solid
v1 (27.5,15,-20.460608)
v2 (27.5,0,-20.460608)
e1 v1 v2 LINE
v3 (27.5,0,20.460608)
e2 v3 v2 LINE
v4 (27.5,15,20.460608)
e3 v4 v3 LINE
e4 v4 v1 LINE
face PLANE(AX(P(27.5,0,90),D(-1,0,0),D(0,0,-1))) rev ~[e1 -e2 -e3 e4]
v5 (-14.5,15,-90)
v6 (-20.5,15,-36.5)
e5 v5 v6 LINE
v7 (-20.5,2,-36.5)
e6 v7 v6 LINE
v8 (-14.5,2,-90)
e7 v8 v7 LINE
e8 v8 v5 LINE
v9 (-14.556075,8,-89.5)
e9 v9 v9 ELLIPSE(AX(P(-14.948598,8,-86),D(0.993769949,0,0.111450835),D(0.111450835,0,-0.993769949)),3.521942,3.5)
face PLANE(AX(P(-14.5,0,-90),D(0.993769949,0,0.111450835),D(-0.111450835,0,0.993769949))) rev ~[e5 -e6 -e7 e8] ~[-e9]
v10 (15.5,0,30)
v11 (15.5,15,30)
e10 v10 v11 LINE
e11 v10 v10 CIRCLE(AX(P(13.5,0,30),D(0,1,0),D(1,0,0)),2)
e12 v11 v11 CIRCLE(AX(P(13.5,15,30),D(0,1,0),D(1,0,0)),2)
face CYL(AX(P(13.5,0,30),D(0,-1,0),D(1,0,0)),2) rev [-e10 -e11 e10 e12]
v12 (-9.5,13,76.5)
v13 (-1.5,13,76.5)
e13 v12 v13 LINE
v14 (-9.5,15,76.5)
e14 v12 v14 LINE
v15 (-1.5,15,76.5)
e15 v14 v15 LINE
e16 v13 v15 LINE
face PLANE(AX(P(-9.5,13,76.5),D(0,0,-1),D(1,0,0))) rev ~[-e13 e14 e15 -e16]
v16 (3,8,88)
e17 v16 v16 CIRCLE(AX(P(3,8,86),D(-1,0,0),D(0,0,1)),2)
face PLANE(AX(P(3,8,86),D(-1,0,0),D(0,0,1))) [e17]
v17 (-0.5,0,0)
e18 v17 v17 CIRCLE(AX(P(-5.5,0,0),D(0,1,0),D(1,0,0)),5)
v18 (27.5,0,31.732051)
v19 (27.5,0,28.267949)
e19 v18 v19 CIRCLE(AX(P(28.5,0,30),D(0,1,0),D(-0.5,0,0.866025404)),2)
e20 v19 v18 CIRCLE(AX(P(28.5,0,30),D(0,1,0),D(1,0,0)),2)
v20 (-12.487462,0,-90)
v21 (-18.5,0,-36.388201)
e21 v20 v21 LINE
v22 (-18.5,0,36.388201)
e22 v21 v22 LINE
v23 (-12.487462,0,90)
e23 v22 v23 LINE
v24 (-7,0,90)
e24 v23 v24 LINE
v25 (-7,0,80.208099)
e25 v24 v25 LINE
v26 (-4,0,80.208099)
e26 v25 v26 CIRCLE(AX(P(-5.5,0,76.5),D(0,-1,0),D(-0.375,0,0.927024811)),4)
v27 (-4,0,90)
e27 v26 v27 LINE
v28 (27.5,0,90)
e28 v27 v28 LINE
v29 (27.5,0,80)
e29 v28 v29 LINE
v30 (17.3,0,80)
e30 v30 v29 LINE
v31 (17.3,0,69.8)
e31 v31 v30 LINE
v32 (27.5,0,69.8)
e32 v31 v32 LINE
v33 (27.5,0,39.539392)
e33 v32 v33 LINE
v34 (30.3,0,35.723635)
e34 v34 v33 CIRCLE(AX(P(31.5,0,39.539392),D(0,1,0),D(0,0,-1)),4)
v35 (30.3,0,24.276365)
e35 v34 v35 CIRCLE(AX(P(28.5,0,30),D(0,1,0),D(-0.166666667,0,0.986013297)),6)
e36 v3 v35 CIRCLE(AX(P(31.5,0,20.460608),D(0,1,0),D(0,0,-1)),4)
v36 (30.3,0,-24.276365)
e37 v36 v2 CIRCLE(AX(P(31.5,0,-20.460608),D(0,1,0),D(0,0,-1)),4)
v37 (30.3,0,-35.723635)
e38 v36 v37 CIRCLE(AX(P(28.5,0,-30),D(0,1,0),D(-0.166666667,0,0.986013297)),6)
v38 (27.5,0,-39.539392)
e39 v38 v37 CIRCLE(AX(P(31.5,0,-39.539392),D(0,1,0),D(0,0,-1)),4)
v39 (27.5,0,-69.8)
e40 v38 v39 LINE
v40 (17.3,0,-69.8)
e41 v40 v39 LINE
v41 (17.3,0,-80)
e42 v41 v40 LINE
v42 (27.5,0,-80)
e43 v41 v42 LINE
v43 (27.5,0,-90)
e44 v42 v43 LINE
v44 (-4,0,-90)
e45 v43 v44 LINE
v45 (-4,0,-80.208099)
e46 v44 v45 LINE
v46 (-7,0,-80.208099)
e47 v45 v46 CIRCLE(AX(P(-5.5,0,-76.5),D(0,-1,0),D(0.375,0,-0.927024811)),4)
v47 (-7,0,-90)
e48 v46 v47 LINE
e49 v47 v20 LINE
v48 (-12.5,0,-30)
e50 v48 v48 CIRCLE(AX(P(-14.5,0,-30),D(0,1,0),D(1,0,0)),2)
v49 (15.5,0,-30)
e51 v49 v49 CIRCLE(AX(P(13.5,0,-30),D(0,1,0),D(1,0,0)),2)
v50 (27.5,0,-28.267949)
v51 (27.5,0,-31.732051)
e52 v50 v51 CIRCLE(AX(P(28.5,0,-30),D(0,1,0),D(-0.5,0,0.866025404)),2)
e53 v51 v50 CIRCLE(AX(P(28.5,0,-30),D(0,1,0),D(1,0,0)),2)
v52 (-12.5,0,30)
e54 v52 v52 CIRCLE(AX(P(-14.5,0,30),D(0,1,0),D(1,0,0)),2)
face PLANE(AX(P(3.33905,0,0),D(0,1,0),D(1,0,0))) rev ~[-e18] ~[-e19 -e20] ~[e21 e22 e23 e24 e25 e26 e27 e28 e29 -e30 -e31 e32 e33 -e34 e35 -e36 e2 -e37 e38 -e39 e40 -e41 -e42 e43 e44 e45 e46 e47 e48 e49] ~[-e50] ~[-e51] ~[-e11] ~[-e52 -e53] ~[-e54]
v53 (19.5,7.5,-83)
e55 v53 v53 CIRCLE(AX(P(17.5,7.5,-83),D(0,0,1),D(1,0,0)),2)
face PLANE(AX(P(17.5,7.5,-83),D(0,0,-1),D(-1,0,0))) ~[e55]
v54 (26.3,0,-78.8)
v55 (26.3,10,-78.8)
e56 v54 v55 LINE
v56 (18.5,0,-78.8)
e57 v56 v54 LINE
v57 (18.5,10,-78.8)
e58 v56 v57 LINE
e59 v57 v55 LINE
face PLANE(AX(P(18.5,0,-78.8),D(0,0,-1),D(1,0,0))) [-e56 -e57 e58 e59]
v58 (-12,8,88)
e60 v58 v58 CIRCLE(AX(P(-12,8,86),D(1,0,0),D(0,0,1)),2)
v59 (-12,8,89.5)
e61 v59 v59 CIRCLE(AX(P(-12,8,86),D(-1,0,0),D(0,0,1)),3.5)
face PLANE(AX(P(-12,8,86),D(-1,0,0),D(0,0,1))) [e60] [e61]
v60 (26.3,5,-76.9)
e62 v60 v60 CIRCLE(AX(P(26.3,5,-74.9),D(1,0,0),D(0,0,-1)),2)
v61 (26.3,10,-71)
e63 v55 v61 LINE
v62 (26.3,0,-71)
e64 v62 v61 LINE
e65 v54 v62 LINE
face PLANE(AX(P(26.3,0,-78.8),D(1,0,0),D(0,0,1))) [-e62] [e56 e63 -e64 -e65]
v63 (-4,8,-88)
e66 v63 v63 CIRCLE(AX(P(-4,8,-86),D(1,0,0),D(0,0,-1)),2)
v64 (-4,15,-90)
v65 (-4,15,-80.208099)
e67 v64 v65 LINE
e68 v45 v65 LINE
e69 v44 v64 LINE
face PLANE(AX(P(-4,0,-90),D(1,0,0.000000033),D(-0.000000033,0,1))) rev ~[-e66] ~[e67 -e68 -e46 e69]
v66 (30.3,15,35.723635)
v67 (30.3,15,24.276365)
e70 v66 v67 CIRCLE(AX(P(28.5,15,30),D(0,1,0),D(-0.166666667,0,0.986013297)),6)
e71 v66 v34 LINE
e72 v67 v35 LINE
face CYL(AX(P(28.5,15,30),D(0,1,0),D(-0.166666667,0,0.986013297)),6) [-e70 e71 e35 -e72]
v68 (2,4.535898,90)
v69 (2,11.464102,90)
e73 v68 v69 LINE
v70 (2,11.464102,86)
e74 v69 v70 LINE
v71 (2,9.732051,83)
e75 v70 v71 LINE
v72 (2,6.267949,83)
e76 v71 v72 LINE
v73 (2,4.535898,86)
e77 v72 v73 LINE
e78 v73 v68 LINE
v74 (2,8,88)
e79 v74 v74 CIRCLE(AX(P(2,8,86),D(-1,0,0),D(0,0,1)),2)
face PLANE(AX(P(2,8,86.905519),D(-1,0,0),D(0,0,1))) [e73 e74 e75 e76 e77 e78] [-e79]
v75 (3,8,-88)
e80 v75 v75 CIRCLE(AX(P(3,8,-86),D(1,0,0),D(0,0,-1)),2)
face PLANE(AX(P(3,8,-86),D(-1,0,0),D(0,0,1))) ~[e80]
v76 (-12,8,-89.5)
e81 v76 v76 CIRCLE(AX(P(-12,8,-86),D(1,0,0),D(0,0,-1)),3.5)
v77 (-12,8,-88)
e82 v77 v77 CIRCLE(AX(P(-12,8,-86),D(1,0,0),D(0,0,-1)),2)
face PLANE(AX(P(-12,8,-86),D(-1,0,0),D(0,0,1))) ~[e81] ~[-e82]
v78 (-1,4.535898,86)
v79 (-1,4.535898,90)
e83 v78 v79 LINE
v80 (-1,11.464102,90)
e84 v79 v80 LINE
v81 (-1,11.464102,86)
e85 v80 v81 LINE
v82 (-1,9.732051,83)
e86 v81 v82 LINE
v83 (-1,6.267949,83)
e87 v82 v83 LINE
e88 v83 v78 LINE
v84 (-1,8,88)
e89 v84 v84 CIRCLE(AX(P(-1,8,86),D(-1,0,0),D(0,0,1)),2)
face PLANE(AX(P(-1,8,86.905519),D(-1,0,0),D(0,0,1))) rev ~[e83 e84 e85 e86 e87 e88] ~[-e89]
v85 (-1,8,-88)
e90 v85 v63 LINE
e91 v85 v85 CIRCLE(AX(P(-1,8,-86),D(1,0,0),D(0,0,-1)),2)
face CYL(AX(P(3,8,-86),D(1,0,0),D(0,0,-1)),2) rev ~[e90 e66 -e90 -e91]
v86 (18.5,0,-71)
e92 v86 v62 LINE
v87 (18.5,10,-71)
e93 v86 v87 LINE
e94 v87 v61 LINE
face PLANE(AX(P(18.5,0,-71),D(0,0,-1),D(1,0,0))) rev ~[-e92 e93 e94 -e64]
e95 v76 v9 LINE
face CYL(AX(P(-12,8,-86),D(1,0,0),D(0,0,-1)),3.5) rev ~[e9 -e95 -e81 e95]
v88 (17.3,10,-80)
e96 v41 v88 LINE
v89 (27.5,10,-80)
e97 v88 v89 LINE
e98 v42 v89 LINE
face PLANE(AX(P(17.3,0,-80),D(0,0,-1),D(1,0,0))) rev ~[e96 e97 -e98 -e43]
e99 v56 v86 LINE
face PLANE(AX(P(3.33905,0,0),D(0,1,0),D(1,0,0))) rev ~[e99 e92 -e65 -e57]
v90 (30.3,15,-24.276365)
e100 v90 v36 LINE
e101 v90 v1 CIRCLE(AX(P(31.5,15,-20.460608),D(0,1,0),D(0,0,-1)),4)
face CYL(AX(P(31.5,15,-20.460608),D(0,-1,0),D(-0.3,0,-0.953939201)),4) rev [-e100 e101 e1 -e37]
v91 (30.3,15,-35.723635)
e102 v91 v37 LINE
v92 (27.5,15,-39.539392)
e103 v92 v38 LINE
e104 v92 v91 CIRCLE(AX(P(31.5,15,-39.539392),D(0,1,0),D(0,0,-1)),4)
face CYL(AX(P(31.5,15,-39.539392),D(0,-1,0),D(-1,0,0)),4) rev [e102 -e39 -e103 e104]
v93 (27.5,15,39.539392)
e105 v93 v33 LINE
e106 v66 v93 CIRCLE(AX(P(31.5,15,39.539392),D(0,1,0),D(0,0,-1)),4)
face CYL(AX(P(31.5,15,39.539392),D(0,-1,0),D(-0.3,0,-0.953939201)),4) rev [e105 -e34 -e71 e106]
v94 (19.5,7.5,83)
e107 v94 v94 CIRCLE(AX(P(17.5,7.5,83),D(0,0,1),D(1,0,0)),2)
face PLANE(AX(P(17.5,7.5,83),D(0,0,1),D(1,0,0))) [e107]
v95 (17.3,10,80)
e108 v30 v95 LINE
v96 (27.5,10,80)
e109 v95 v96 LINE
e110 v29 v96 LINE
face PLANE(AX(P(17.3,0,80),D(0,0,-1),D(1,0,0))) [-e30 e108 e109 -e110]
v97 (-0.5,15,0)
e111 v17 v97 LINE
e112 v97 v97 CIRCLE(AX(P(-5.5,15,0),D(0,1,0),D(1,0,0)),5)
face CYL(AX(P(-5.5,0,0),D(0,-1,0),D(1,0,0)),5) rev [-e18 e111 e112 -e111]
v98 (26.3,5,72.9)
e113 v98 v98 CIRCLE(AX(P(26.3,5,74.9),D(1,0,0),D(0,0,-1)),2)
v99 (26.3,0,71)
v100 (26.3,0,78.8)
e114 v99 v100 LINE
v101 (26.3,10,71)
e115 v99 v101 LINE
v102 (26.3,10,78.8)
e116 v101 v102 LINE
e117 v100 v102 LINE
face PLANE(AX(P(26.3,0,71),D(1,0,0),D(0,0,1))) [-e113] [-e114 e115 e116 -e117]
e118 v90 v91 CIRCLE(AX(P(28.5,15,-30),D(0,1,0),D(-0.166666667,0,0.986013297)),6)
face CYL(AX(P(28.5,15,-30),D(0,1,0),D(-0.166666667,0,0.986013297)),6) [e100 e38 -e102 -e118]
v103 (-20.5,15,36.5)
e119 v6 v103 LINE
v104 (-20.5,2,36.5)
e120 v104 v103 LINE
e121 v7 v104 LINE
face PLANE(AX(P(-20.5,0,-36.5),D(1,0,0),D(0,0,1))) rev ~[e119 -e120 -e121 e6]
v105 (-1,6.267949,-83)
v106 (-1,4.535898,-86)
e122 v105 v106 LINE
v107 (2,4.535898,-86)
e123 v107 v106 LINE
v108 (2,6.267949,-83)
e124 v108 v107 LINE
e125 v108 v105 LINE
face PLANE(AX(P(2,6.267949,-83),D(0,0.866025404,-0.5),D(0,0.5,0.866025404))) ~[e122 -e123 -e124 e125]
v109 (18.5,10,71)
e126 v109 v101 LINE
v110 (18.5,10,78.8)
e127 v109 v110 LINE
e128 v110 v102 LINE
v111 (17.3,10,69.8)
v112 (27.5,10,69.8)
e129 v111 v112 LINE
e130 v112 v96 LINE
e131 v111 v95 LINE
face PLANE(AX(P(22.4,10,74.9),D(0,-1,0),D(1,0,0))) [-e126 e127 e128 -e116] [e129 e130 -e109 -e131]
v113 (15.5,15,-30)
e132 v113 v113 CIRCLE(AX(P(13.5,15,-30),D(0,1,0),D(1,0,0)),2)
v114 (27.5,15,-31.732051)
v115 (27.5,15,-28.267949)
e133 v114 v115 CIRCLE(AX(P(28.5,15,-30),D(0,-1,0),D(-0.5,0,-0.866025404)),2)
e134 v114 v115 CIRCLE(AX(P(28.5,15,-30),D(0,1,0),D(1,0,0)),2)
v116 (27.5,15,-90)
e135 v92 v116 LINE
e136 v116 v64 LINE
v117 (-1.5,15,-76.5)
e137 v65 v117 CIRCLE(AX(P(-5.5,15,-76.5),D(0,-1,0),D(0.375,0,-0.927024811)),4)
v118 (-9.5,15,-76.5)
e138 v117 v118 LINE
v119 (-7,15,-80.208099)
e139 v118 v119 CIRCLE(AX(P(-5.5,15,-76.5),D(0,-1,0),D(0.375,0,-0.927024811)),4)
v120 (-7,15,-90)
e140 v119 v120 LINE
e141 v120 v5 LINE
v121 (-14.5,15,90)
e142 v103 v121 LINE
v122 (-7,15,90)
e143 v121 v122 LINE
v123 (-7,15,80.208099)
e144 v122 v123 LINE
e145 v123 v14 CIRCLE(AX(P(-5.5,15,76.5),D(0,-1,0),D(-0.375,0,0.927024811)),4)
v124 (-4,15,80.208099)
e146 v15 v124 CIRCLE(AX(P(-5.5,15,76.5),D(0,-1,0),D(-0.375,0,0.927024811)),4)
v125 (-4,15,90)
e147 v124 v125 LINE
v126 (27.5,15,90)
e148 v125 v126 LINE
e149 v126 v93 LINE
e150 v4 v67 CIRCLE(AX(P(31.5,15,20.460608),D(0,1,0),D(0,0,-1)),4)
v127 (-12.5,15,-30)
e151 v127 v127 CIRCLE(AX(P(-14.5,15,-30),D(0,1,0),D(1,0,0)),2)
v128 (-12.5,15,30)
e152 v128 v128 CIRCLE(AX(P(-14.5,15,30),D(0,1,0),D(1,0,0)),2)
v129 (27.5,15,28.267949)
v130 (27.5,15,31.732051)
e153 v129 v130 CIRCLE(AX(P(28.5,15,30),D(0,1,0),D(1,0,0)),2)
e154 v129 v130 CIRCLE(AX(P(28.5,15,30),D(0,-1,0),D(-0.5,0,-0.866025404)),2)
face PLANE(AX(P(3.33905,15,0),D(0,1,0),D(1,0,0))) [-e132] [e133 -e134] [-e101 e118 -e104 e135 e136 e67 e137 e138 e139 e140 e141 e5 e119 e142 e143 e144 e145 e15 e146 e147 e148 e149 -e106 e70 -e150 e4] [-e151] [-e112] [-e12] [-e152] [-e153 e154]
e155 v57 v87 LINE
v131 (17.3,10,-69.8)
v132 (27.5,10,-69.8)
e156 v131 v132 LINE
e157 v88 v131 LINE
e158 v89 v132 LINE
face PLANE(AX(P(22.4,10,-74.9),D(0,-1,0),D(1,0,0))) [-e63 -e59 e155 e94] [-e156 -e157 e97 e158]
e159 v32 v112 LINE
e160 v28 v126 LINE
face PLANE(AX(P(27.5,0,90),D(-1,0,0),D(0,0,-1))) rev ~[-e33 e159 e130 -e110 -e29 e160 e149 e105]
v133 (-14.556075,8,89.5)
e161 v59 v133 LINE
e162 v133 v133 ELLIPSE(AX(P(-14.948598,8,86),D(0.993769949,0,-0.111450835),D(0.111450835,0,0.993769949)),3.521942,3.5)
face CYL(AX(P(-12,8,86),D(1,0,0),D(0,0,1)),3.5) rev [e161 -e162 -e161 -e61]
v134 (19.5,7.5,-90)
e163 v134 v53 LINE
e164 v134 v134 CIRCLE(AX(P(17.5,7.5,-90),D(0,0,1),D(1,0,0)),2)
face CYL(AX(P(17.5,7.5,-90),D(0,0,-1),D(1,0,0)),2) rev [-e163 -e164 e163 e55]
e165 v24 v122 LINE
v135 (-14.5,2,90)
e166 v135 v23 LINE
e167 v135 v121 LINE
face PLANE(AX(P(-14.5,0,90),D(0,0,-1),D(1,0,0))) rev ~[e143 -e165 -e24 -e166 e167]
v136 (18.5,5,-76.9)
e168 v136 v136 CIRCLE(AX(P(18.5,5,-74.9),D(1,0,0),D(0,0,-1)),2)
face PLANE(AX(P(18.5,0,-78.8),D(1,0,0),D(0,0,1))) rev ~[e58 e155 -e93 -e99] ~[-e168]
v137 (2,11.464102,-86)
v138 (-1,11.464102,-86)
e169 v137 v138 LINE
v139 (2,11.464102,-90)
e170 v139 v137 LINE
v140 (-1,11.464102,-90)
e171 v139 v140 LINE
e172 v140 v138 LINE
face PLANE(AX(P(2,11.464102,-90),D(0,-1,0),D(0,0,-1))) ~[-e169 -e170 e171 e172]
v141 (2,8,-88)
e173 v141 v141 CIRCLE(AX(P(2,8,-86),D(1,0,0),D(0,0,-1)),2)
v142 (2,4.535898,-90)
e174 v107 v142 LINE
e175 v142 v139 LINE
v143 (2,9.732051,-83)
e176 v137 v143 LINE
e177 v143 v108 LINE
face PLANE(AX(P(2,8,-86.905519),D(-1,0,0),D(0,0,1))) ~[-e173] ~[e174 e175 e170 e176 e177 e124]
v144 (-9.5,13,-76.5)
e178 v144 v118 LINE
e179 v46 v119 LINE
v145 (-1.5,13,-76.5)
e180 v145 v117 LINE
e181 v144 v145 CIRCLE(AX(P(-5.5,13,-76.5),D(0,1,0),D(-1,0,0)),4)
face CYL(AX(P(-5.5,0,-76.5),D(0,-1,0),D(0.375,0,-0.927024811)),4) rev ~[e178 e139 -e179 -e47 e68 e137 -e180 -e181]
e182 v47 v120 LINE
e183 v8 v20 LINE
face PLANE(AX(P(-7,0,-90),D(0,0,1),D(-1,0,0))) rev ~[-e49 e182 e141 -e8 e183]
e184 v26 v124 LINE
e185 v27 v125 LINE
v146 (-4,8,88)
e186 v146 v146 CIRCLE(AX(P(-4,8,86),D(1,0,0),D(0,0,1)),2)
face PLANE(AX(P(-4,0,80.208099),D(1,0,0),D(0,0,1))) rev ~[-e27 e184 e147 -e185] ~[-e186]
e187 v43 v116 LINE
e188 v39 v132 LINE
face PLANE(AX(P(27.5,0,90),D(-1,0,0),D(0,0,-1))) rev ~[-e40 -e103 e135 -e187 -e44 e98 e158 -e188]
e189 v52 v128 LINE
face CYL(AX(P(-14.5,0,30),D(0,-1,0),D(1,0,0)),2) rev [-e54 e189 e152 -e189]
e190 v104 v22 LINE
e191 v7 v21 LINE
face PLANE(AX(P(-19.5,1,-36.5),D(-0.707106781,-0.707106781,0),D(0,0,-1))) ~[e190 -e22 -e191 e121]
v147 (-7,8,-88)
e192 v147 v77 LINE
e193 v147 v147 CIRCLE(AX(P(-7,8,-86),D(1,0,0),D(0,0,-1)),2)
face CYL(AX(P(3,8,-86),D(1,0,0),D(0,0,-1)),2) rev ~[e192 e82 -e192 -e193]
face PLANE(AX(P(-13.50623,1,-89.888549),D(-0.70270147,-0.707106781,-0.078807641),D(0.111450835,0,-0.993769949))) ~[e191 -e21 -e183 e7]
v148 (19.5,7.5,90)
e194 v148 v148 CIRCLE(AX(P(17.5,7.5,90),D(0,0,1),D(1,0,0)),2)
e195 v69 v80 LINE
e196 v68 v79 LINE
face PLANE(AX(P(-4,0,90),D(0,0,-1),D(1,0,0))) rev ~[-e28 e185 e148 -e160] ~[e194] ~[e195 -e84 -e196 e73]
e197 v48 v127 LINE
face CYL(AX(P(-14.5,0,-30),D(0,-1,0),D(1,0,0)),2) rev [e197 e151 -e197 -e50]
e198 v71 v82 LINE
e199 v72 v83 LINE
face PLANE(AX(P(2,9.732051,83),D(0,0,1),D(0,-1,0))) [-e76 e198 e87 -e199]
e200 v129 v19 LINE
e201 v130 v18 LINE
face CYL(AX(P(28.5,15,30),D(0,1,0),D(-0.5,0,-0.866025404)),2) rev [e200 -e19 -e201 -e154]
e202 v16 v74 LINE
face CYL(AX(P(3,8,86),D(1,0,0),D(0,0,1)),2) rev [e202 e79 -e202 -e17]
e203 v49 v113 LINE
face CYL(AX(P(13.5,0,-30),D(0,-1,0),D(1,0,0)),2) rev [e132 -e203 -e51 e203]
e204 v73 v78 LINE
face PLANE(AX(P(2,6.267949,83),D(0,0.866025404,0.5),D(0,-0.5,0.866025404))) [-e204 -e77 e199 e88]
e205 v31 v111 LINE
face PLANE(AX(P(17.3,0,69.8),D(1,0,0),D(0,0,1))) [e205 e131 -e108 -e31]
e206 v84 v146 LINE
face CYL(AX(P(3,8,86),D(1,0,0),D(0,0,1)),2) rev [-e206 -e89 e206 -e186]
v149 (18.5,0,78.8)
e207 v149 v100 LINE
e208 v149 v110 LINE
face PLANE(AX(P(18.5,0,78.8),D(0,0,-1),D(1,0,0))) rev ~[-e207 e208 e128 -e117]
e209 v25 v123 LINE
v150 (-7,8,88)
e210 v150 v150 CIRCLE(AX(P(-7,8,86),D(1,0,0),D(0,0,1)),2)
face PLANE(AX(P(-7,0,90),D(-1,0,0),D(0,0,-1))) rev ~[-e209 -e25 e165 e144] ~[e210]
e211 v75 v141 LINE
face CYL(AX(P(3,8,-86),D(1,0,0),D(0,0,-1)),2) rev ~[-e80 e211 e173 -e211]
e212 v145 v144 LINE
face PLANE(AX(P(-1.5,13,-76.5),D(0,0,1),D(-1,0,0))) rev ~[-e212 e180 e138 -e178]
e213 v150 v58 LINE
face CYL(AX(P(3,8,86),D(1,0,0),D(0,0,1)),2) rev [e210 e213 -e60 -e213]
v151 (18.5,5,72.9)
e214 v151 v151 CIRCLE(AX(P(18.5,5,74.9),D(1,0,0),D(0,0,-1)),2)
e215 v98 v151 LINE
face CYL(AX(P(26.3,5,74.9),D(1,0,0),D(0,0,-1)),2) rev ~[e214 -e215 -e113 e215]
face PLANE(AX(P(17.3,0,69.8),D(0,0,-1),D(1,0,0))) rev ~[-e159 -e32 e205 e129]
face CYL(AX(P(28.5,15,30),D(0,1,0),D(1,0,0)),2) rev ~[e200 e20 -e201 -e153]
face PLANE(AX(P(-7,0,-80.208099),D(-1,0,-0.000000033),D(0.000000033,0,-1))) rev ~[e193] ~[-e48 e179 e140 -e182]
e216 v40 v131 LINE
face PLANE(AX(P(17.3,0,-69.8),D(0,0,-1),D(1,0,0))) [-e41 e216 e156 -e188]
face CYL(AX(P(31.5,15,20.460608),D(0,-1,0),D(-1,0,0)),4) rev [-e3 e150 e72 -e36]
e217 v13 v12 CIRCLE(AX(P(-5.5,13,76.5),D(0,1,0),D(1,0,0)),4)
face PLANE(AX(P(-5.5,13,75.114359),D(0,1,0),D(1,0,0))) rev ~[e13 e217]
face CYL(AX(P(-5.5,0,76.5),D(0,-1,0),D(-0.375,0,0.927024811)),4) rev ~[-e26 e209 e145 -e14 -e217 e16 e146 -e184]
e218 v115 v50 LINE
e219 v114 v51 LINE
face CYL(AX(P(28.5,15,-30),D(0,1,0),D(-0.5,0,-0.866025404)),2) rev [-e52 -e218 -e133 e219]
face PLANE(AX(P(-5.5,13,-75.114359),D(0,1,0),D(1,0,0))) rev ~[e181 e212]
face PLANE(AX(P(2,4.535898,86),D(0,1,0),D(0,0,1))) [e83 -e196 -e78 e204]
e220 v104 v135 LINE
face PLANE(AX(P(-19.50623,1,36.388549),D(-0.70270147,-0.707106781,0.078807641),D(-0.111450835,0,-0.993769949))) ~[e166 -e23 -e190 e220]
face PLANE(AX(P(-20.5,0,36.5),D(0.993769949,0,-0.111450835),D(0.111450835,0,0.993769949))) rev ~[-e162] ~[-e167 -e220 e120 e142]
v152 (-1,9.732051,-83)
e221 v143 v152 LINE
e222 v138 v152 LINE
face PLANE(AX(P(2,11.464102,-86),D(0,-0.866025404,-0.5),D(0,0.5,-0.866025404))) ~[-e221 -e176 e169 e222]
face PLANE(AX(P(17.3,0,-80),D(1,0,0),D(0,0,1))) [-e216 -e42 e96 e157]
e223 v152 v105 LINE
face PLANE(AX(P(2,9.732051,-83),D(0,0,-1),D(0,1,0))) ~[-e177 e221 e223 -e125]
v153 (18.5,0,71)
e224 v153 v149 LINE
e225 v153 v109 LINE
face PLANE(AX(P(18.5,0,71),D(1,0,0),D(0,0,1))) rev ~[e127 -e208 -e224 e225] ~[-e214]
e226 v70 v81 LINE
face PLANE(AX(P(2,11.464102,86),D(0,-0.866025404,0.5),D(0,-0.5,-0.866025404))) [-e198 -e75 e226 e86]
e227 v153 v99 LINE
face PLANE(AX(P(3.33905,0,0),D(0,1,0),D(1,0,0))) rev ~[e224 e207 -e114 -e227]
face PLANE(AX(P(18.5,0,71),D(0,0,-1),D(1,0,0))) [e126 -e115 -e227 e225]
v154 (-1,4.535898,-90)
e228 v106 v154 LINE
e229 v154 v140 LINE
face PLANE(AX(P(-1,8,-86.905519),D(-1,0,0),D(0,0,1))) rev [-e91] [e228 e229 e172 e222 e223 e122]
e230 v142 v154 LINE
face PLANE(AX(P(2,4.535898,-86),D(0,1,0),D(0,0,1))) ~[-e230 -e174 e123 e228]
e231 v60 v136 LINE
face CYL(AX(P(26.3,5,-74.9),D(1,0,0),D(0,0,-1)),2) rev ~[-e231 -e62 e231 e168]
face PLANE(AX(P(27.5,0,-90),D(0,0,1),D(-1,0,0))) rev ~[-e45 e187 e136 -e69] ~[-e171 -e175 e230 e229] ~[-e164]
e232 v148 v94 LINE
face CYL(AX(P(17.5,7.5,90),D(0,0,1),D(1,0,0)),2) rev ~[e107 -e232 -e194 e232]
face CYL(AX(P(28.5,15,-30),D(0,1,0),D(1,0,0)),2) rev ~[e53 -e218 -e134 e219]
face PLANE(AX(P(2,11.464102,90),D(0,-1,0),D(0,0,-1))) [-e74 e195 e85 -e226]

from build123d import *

# Parameters (mm, degrees)
SZKIC1_R                    = 5
SZKIC1_R_2                  = 2
DODANIE_WYCI_GNI_CIE1_DEPTH = 15
DODANIE_WYCI_GNI_CIE3_START = -2
DODANIE_WYCI_GNI_CIE3_DEPTH = 2
DODANIE_WYCI_GNI_CIE4_DEPTH = 15
SZKIC5_R                    = 2
WYTNIJ_WYCI_GNI_CIE1_DEPTH  = 15
ZAOKR_GLENIE1_R             = 4
SFAZOWANIE1_SIZE            = 2
WYTNIJ_WYCI_GNI_CIE3_START  = -7
SZKIC8_R                    = 2
WYTNIJ_WYCI_GNI_CIE3_DEPTH  = 107.031560626
WYTNIJ_WYCI_GNI_CIE4_START  = 8
SZKIC9_R                    = 3.5
WYTNIJ_WYCI_GNI_CIE4_DEPTH  = 4
WYTNIJ_WYCI_GNI_CIE5_START  = -6
SZKIC10_R                   = 2
WYTNIJ_WYCI_GNI_CIE5_DEPTH  = 3
SZKIC11_R                   = 2
WYTNIJ_WYCI_GNI_CIE6_DEPTH  = 7
SZKIC12_W                   = 10.2
SZKIC12_H                   = 10.2
SZKIC12_W_2                 = 7.8
SZKIC12_H_2                 = 7.8
WYTNIJ_WYCI_GNI_CIE7_DEPTH  = 10
SZKIC13_R                   = 2
WYTNIJ_WYCI_GNI_CIE8_DEPTH  = 8


with BuildPart() as part:
    # Szkic1 → Dodanie-wyciągnięcie1 (new body)
    with BuildSketch(Plane(origin=(0, 0, 0), x_dir=(1, 0, 0), z_dir=(0, 1, 0))):
        with BuildLine():
            Line((-14.5, 90), (-20.5, 36.5))
            Line((-20.5, 36.5), (-20.5, -36.5))
            Line((-20.5, -36.5), (-14.5, -90))
            Line((-14.5, -90), (-7, -90))
            Line((-7, -90), (-7, -80.208099244))
            ThreePointArc((-7, -80.208099244), (-5.5, -72.5), (-4, -80.208099244))
            Line((-4, -80.208099244), (-4, -90))
            Line((-4, -90), (27.5, -90))
            Line((27.5, -90), (27.5, 90))
            Line((27.5, 90), (-3.999999674, 90))
            Line((-3.999999674, 90), (-4, 80.208099244))
            ThreePointArc((-4, 80.208099244), (-5.5, 72.5), (-7, 80.208099244))
            Line((-7, 80.208099244), (-6.999999674, 90))
            Line((-6.999999674, 90), (-14.5, 90))
        make_face()
        with Locations((-5.5, 0)):
            Circle(SZKIC1_R, mode=Mode.SUBTRACT)
        with Locations((-14.5, 30)):
            Circle(SZKIC1_R_2, mode=Mode.SUBTRACT)
        with Locations((13.5, 30)):
            Circle(SZKIC1_R_2, mode=Mode.SUBTRACT)
        with Locations((-14.5, -30)):
            Circle(SZKIC1_R_2, mode=Mode.SUBTRACT)
        with Locations((13.5, -30)):
            Circle(SZKIC1_R_2, mode=Mode.SUBTRACT)
    extrude(amount=DODANIE_WYCI_GNI_CIE1_DEPTH)

    # Szkic3 → Dodanie-wyciągnięcie3 (add)
    with BuildSketch(Plane(origin=(0, 15, 0), x_dir=(1, 0, 0), z_dir=(0, 1, 0)).offset(DODANIE_WYCI_GNI_CIE3_START)):
        with BuildLine():
            Line((-1.5, 76.5), (-9.5, 76.5))
            ThreePointArc((-9.5, 76.5), (-5.5, 72.5), (-1.5, 76.5))
        make_face()
        with BuildLine():
            ThreePointArc((-1.5, -76.5), (-5.5, -72.5), (-9.5, -76.5))
            Line((-9.5, -76.5), (-1.5, -76.5))
        make_face()
    extrude(amount=DODANIE_WYCI_GNI_CIE3_DEPTH)

    # Szkic4 → Dodanie-wyciągnięcie4 (add)
    with BuildSketch(Plane(origin=(0, 15, 0), x_dir=(1, 0, 0), z_dir=(0, 1, 0))):
        with BuildLine():
            ThreePointArc((27.5, -28.267949192), (30.5, -30), (27.5, -31.732050808))
            Line((27.5, -31.732050808), (27.5, -35.916079783))
            ThreePointArc((27.5, -35.916079783), (34.5, -30), (27.5, -24.083920217))
            Line((27.5, -24.083920217), (27.5, -28.267949192))
        make_face()
        with BuildLine():
            Line((27.5, 28.267949192), (27.5, 24.083920217))
            ThreePointArc((27.5, 24.083920217), (34.5, 30), (27.5, 35.916079783))
            Line((27.5, 35.916079783), (27.5, 31.732050808))
            ThreePointArc((27.5, 31.732050808), (30.5, 30), (27.5, 28.267949192))
        make_face()
    extrude(amount=-DODANIE_WYCI_GNI_CIE4_DEPTH)

    # Szkic5 → Wytnij-wyciągnięcie1 (cut)
    with BuildSketch(Plane(origin=(0, 15, 0), x_dir=(1, 0, 0), z_dir=(0, 1, 0))):
        with Locations((28.5, 30)):
            Circle(SZKIC5_R)
        with Locations((28.5, -30)):
            Circle(SZKIC5_R)
    extrude(amount=-WYTNIJ_WYCI_GNI_CIE1_DEPTH, mode=Mode.SUBTRACT)

    # Zaokrąglenie1
    zaokr_glenie1_edges = [part.edges().sort_by_distance(p)[0] for p in [
        (27.5, 7.5, -35.916079783),
        (27.5, 7.5, -24.083920217),
        (27.5, 7.5, 24.083920217),
        (27.5, 7.5, 35.916079783),
    ]]
    fillet(zaokr_glenie1_edges, radius=ZAOKR_GLENIE1_R)

    # Sfazowanie1
    sfazowanie1_edges = [part.edges().sort_by_distance(p)[0] for p in [
        (-17.5, 0, -63.25),
        (-17.5, 0, 63.25),
        (-20.5, 0, 0),
    ]]
    chamfer(sfazowanie1_edges, length=SFAZOWANIE1_SIZE)

    # Szkic8 → Wytnij-wyciągnięcie3 (cut)
    with BuildSketch(Plane.ZY.offset(4).offset(WYTNIJ_WYCI_GNI_CIE3_START)):
        with Locations((86, 8)):
            Circle(SZKIC8_R)
    wytnij_wyci_gni_cie3 = extrude(amount=WYTNIJ_WYCI_GNI_CIE3_DEPTH, mode=Mode.SUBTRACT)

    # Szkic9 → Wytnij-wyciągnięcie4 (cut)
    with BuildSketch(Plane.ZY.offset(4).offset(WYTNIJ_WYCI_GNI_CIE4_START)):
        with Locations((86, 8)):
            Circle(SZKIC9_R)
    wytnij_wyci_gni_cie4 = extrude(amount=WYTNIJ_WYCI_GNI_CIE4_DEPTH, mode=Mode.SUBTRACT)

    # Szkic10 → Wytnij-wyciągnięcie5 (cut)
    with BuildSketch(Plane.ZY.offset(4).offset(WYTNIJ_WYCI_GNI_CIE5_START)):
        Polygon((83, 6.267949192), (86, 4.535898385), (90, 4.535898385), (90, 11.464101615), (86, 11.464101615), (83, 9.732050808), align=None)
        with Locations((86, 8)):
            Circle(SZKIC10_R, mode=Mode.SUBTRACT)
    wytnij_wyci_gni_cie5 = extrude(amount=WYTNIJ_WYCI_GNI_CIE5_DEPTH, mode=Mode.SUBTRACT)

    # Lustro2: Wytnij-wyciągnięcie3, Wytnij-wyciągnięcie4, Wytnij-wyciągnięcie5 across plane
    add(wytnij_wyci_gni_cie3.mirror(Plane.XY), mode=Mode.SUBTRACT)
    add(wytnij_wyci_gni_cie4.mirror(Plane.XY), mode=Mode.SUBTRACT)
    add(wytnij_wyci_gni_cie5.mirror(Plane.XY), mode=Mode.SUBTRACT)

    # Szkic11 → Wytnij-wyciągnięcie6 (cut)
    with BuildSketch(Plane.XY.offset(90)):
        with Locations((17.5, 7.5)):
            Circle(SZKIC11_R)
    wytnij_wyci_gni_cie6 = extrude(amount=-WYTNIJ_WYCI_GNI_CIE6_DEPTH, mode=Mode.SUBTRACT)

    # Lustro3: Wytnij-wyciągnięcie6 across plane
    add(wytnij_wyci_gni_cie6.mirror(Plane.XY), mode=Mode.SUBTRACT)

    # Szkic12 → Wytnij-wyciągnięcie7 (cut)
    # profile 1 of 2: a face of its own
    with BuildSketch(Plane.XZ):
        with Locations((22.4, 74.9)):
            Rectangle(SZKIC12_W, SZKIC12_H)
        with Locations((22.4, 74.9)):
            Rectangle(SZKIC12_W_2, SZKIC12_H_2, mode=Mode.SUBTRACT)
    # profile 2 of 2: a face of its own
    with BuildSketch(Plane.XZ):
        with Locations((22.4, -74.9)):
            Rectangle(SZKIC12_W, SZKIC12_H)
        with Locations((22.4, -74.9)):
            Rectangle(SZKIC12_W_2, SZKIC12_H_2, mode=Mode.SUBTRACT)
    extrude(amount=-WYTNIJ_WYCI_GNI_CIE7_DEPTH, mode=Mode.SUBTRACT)

    # Szkic13 → Wytnij-wyciągnięcie8 (cut)
    with BuildSketch(Plane(origin=(26.3, 0, 0), x_dir=(0, 0, -1), z_dir=(1, 0, 0))):
        with Locations((74.9, 5)):
            Circle(SZKIC13_R)
        with Locations((-74.9, 5)):
            Circle(SZKIC13_R)
    extrude(amount=-WYTNIJ_WYCI_GNI_CIE8_DEPTH, mode=Mode.SUBTRACT)


solid = part.part
